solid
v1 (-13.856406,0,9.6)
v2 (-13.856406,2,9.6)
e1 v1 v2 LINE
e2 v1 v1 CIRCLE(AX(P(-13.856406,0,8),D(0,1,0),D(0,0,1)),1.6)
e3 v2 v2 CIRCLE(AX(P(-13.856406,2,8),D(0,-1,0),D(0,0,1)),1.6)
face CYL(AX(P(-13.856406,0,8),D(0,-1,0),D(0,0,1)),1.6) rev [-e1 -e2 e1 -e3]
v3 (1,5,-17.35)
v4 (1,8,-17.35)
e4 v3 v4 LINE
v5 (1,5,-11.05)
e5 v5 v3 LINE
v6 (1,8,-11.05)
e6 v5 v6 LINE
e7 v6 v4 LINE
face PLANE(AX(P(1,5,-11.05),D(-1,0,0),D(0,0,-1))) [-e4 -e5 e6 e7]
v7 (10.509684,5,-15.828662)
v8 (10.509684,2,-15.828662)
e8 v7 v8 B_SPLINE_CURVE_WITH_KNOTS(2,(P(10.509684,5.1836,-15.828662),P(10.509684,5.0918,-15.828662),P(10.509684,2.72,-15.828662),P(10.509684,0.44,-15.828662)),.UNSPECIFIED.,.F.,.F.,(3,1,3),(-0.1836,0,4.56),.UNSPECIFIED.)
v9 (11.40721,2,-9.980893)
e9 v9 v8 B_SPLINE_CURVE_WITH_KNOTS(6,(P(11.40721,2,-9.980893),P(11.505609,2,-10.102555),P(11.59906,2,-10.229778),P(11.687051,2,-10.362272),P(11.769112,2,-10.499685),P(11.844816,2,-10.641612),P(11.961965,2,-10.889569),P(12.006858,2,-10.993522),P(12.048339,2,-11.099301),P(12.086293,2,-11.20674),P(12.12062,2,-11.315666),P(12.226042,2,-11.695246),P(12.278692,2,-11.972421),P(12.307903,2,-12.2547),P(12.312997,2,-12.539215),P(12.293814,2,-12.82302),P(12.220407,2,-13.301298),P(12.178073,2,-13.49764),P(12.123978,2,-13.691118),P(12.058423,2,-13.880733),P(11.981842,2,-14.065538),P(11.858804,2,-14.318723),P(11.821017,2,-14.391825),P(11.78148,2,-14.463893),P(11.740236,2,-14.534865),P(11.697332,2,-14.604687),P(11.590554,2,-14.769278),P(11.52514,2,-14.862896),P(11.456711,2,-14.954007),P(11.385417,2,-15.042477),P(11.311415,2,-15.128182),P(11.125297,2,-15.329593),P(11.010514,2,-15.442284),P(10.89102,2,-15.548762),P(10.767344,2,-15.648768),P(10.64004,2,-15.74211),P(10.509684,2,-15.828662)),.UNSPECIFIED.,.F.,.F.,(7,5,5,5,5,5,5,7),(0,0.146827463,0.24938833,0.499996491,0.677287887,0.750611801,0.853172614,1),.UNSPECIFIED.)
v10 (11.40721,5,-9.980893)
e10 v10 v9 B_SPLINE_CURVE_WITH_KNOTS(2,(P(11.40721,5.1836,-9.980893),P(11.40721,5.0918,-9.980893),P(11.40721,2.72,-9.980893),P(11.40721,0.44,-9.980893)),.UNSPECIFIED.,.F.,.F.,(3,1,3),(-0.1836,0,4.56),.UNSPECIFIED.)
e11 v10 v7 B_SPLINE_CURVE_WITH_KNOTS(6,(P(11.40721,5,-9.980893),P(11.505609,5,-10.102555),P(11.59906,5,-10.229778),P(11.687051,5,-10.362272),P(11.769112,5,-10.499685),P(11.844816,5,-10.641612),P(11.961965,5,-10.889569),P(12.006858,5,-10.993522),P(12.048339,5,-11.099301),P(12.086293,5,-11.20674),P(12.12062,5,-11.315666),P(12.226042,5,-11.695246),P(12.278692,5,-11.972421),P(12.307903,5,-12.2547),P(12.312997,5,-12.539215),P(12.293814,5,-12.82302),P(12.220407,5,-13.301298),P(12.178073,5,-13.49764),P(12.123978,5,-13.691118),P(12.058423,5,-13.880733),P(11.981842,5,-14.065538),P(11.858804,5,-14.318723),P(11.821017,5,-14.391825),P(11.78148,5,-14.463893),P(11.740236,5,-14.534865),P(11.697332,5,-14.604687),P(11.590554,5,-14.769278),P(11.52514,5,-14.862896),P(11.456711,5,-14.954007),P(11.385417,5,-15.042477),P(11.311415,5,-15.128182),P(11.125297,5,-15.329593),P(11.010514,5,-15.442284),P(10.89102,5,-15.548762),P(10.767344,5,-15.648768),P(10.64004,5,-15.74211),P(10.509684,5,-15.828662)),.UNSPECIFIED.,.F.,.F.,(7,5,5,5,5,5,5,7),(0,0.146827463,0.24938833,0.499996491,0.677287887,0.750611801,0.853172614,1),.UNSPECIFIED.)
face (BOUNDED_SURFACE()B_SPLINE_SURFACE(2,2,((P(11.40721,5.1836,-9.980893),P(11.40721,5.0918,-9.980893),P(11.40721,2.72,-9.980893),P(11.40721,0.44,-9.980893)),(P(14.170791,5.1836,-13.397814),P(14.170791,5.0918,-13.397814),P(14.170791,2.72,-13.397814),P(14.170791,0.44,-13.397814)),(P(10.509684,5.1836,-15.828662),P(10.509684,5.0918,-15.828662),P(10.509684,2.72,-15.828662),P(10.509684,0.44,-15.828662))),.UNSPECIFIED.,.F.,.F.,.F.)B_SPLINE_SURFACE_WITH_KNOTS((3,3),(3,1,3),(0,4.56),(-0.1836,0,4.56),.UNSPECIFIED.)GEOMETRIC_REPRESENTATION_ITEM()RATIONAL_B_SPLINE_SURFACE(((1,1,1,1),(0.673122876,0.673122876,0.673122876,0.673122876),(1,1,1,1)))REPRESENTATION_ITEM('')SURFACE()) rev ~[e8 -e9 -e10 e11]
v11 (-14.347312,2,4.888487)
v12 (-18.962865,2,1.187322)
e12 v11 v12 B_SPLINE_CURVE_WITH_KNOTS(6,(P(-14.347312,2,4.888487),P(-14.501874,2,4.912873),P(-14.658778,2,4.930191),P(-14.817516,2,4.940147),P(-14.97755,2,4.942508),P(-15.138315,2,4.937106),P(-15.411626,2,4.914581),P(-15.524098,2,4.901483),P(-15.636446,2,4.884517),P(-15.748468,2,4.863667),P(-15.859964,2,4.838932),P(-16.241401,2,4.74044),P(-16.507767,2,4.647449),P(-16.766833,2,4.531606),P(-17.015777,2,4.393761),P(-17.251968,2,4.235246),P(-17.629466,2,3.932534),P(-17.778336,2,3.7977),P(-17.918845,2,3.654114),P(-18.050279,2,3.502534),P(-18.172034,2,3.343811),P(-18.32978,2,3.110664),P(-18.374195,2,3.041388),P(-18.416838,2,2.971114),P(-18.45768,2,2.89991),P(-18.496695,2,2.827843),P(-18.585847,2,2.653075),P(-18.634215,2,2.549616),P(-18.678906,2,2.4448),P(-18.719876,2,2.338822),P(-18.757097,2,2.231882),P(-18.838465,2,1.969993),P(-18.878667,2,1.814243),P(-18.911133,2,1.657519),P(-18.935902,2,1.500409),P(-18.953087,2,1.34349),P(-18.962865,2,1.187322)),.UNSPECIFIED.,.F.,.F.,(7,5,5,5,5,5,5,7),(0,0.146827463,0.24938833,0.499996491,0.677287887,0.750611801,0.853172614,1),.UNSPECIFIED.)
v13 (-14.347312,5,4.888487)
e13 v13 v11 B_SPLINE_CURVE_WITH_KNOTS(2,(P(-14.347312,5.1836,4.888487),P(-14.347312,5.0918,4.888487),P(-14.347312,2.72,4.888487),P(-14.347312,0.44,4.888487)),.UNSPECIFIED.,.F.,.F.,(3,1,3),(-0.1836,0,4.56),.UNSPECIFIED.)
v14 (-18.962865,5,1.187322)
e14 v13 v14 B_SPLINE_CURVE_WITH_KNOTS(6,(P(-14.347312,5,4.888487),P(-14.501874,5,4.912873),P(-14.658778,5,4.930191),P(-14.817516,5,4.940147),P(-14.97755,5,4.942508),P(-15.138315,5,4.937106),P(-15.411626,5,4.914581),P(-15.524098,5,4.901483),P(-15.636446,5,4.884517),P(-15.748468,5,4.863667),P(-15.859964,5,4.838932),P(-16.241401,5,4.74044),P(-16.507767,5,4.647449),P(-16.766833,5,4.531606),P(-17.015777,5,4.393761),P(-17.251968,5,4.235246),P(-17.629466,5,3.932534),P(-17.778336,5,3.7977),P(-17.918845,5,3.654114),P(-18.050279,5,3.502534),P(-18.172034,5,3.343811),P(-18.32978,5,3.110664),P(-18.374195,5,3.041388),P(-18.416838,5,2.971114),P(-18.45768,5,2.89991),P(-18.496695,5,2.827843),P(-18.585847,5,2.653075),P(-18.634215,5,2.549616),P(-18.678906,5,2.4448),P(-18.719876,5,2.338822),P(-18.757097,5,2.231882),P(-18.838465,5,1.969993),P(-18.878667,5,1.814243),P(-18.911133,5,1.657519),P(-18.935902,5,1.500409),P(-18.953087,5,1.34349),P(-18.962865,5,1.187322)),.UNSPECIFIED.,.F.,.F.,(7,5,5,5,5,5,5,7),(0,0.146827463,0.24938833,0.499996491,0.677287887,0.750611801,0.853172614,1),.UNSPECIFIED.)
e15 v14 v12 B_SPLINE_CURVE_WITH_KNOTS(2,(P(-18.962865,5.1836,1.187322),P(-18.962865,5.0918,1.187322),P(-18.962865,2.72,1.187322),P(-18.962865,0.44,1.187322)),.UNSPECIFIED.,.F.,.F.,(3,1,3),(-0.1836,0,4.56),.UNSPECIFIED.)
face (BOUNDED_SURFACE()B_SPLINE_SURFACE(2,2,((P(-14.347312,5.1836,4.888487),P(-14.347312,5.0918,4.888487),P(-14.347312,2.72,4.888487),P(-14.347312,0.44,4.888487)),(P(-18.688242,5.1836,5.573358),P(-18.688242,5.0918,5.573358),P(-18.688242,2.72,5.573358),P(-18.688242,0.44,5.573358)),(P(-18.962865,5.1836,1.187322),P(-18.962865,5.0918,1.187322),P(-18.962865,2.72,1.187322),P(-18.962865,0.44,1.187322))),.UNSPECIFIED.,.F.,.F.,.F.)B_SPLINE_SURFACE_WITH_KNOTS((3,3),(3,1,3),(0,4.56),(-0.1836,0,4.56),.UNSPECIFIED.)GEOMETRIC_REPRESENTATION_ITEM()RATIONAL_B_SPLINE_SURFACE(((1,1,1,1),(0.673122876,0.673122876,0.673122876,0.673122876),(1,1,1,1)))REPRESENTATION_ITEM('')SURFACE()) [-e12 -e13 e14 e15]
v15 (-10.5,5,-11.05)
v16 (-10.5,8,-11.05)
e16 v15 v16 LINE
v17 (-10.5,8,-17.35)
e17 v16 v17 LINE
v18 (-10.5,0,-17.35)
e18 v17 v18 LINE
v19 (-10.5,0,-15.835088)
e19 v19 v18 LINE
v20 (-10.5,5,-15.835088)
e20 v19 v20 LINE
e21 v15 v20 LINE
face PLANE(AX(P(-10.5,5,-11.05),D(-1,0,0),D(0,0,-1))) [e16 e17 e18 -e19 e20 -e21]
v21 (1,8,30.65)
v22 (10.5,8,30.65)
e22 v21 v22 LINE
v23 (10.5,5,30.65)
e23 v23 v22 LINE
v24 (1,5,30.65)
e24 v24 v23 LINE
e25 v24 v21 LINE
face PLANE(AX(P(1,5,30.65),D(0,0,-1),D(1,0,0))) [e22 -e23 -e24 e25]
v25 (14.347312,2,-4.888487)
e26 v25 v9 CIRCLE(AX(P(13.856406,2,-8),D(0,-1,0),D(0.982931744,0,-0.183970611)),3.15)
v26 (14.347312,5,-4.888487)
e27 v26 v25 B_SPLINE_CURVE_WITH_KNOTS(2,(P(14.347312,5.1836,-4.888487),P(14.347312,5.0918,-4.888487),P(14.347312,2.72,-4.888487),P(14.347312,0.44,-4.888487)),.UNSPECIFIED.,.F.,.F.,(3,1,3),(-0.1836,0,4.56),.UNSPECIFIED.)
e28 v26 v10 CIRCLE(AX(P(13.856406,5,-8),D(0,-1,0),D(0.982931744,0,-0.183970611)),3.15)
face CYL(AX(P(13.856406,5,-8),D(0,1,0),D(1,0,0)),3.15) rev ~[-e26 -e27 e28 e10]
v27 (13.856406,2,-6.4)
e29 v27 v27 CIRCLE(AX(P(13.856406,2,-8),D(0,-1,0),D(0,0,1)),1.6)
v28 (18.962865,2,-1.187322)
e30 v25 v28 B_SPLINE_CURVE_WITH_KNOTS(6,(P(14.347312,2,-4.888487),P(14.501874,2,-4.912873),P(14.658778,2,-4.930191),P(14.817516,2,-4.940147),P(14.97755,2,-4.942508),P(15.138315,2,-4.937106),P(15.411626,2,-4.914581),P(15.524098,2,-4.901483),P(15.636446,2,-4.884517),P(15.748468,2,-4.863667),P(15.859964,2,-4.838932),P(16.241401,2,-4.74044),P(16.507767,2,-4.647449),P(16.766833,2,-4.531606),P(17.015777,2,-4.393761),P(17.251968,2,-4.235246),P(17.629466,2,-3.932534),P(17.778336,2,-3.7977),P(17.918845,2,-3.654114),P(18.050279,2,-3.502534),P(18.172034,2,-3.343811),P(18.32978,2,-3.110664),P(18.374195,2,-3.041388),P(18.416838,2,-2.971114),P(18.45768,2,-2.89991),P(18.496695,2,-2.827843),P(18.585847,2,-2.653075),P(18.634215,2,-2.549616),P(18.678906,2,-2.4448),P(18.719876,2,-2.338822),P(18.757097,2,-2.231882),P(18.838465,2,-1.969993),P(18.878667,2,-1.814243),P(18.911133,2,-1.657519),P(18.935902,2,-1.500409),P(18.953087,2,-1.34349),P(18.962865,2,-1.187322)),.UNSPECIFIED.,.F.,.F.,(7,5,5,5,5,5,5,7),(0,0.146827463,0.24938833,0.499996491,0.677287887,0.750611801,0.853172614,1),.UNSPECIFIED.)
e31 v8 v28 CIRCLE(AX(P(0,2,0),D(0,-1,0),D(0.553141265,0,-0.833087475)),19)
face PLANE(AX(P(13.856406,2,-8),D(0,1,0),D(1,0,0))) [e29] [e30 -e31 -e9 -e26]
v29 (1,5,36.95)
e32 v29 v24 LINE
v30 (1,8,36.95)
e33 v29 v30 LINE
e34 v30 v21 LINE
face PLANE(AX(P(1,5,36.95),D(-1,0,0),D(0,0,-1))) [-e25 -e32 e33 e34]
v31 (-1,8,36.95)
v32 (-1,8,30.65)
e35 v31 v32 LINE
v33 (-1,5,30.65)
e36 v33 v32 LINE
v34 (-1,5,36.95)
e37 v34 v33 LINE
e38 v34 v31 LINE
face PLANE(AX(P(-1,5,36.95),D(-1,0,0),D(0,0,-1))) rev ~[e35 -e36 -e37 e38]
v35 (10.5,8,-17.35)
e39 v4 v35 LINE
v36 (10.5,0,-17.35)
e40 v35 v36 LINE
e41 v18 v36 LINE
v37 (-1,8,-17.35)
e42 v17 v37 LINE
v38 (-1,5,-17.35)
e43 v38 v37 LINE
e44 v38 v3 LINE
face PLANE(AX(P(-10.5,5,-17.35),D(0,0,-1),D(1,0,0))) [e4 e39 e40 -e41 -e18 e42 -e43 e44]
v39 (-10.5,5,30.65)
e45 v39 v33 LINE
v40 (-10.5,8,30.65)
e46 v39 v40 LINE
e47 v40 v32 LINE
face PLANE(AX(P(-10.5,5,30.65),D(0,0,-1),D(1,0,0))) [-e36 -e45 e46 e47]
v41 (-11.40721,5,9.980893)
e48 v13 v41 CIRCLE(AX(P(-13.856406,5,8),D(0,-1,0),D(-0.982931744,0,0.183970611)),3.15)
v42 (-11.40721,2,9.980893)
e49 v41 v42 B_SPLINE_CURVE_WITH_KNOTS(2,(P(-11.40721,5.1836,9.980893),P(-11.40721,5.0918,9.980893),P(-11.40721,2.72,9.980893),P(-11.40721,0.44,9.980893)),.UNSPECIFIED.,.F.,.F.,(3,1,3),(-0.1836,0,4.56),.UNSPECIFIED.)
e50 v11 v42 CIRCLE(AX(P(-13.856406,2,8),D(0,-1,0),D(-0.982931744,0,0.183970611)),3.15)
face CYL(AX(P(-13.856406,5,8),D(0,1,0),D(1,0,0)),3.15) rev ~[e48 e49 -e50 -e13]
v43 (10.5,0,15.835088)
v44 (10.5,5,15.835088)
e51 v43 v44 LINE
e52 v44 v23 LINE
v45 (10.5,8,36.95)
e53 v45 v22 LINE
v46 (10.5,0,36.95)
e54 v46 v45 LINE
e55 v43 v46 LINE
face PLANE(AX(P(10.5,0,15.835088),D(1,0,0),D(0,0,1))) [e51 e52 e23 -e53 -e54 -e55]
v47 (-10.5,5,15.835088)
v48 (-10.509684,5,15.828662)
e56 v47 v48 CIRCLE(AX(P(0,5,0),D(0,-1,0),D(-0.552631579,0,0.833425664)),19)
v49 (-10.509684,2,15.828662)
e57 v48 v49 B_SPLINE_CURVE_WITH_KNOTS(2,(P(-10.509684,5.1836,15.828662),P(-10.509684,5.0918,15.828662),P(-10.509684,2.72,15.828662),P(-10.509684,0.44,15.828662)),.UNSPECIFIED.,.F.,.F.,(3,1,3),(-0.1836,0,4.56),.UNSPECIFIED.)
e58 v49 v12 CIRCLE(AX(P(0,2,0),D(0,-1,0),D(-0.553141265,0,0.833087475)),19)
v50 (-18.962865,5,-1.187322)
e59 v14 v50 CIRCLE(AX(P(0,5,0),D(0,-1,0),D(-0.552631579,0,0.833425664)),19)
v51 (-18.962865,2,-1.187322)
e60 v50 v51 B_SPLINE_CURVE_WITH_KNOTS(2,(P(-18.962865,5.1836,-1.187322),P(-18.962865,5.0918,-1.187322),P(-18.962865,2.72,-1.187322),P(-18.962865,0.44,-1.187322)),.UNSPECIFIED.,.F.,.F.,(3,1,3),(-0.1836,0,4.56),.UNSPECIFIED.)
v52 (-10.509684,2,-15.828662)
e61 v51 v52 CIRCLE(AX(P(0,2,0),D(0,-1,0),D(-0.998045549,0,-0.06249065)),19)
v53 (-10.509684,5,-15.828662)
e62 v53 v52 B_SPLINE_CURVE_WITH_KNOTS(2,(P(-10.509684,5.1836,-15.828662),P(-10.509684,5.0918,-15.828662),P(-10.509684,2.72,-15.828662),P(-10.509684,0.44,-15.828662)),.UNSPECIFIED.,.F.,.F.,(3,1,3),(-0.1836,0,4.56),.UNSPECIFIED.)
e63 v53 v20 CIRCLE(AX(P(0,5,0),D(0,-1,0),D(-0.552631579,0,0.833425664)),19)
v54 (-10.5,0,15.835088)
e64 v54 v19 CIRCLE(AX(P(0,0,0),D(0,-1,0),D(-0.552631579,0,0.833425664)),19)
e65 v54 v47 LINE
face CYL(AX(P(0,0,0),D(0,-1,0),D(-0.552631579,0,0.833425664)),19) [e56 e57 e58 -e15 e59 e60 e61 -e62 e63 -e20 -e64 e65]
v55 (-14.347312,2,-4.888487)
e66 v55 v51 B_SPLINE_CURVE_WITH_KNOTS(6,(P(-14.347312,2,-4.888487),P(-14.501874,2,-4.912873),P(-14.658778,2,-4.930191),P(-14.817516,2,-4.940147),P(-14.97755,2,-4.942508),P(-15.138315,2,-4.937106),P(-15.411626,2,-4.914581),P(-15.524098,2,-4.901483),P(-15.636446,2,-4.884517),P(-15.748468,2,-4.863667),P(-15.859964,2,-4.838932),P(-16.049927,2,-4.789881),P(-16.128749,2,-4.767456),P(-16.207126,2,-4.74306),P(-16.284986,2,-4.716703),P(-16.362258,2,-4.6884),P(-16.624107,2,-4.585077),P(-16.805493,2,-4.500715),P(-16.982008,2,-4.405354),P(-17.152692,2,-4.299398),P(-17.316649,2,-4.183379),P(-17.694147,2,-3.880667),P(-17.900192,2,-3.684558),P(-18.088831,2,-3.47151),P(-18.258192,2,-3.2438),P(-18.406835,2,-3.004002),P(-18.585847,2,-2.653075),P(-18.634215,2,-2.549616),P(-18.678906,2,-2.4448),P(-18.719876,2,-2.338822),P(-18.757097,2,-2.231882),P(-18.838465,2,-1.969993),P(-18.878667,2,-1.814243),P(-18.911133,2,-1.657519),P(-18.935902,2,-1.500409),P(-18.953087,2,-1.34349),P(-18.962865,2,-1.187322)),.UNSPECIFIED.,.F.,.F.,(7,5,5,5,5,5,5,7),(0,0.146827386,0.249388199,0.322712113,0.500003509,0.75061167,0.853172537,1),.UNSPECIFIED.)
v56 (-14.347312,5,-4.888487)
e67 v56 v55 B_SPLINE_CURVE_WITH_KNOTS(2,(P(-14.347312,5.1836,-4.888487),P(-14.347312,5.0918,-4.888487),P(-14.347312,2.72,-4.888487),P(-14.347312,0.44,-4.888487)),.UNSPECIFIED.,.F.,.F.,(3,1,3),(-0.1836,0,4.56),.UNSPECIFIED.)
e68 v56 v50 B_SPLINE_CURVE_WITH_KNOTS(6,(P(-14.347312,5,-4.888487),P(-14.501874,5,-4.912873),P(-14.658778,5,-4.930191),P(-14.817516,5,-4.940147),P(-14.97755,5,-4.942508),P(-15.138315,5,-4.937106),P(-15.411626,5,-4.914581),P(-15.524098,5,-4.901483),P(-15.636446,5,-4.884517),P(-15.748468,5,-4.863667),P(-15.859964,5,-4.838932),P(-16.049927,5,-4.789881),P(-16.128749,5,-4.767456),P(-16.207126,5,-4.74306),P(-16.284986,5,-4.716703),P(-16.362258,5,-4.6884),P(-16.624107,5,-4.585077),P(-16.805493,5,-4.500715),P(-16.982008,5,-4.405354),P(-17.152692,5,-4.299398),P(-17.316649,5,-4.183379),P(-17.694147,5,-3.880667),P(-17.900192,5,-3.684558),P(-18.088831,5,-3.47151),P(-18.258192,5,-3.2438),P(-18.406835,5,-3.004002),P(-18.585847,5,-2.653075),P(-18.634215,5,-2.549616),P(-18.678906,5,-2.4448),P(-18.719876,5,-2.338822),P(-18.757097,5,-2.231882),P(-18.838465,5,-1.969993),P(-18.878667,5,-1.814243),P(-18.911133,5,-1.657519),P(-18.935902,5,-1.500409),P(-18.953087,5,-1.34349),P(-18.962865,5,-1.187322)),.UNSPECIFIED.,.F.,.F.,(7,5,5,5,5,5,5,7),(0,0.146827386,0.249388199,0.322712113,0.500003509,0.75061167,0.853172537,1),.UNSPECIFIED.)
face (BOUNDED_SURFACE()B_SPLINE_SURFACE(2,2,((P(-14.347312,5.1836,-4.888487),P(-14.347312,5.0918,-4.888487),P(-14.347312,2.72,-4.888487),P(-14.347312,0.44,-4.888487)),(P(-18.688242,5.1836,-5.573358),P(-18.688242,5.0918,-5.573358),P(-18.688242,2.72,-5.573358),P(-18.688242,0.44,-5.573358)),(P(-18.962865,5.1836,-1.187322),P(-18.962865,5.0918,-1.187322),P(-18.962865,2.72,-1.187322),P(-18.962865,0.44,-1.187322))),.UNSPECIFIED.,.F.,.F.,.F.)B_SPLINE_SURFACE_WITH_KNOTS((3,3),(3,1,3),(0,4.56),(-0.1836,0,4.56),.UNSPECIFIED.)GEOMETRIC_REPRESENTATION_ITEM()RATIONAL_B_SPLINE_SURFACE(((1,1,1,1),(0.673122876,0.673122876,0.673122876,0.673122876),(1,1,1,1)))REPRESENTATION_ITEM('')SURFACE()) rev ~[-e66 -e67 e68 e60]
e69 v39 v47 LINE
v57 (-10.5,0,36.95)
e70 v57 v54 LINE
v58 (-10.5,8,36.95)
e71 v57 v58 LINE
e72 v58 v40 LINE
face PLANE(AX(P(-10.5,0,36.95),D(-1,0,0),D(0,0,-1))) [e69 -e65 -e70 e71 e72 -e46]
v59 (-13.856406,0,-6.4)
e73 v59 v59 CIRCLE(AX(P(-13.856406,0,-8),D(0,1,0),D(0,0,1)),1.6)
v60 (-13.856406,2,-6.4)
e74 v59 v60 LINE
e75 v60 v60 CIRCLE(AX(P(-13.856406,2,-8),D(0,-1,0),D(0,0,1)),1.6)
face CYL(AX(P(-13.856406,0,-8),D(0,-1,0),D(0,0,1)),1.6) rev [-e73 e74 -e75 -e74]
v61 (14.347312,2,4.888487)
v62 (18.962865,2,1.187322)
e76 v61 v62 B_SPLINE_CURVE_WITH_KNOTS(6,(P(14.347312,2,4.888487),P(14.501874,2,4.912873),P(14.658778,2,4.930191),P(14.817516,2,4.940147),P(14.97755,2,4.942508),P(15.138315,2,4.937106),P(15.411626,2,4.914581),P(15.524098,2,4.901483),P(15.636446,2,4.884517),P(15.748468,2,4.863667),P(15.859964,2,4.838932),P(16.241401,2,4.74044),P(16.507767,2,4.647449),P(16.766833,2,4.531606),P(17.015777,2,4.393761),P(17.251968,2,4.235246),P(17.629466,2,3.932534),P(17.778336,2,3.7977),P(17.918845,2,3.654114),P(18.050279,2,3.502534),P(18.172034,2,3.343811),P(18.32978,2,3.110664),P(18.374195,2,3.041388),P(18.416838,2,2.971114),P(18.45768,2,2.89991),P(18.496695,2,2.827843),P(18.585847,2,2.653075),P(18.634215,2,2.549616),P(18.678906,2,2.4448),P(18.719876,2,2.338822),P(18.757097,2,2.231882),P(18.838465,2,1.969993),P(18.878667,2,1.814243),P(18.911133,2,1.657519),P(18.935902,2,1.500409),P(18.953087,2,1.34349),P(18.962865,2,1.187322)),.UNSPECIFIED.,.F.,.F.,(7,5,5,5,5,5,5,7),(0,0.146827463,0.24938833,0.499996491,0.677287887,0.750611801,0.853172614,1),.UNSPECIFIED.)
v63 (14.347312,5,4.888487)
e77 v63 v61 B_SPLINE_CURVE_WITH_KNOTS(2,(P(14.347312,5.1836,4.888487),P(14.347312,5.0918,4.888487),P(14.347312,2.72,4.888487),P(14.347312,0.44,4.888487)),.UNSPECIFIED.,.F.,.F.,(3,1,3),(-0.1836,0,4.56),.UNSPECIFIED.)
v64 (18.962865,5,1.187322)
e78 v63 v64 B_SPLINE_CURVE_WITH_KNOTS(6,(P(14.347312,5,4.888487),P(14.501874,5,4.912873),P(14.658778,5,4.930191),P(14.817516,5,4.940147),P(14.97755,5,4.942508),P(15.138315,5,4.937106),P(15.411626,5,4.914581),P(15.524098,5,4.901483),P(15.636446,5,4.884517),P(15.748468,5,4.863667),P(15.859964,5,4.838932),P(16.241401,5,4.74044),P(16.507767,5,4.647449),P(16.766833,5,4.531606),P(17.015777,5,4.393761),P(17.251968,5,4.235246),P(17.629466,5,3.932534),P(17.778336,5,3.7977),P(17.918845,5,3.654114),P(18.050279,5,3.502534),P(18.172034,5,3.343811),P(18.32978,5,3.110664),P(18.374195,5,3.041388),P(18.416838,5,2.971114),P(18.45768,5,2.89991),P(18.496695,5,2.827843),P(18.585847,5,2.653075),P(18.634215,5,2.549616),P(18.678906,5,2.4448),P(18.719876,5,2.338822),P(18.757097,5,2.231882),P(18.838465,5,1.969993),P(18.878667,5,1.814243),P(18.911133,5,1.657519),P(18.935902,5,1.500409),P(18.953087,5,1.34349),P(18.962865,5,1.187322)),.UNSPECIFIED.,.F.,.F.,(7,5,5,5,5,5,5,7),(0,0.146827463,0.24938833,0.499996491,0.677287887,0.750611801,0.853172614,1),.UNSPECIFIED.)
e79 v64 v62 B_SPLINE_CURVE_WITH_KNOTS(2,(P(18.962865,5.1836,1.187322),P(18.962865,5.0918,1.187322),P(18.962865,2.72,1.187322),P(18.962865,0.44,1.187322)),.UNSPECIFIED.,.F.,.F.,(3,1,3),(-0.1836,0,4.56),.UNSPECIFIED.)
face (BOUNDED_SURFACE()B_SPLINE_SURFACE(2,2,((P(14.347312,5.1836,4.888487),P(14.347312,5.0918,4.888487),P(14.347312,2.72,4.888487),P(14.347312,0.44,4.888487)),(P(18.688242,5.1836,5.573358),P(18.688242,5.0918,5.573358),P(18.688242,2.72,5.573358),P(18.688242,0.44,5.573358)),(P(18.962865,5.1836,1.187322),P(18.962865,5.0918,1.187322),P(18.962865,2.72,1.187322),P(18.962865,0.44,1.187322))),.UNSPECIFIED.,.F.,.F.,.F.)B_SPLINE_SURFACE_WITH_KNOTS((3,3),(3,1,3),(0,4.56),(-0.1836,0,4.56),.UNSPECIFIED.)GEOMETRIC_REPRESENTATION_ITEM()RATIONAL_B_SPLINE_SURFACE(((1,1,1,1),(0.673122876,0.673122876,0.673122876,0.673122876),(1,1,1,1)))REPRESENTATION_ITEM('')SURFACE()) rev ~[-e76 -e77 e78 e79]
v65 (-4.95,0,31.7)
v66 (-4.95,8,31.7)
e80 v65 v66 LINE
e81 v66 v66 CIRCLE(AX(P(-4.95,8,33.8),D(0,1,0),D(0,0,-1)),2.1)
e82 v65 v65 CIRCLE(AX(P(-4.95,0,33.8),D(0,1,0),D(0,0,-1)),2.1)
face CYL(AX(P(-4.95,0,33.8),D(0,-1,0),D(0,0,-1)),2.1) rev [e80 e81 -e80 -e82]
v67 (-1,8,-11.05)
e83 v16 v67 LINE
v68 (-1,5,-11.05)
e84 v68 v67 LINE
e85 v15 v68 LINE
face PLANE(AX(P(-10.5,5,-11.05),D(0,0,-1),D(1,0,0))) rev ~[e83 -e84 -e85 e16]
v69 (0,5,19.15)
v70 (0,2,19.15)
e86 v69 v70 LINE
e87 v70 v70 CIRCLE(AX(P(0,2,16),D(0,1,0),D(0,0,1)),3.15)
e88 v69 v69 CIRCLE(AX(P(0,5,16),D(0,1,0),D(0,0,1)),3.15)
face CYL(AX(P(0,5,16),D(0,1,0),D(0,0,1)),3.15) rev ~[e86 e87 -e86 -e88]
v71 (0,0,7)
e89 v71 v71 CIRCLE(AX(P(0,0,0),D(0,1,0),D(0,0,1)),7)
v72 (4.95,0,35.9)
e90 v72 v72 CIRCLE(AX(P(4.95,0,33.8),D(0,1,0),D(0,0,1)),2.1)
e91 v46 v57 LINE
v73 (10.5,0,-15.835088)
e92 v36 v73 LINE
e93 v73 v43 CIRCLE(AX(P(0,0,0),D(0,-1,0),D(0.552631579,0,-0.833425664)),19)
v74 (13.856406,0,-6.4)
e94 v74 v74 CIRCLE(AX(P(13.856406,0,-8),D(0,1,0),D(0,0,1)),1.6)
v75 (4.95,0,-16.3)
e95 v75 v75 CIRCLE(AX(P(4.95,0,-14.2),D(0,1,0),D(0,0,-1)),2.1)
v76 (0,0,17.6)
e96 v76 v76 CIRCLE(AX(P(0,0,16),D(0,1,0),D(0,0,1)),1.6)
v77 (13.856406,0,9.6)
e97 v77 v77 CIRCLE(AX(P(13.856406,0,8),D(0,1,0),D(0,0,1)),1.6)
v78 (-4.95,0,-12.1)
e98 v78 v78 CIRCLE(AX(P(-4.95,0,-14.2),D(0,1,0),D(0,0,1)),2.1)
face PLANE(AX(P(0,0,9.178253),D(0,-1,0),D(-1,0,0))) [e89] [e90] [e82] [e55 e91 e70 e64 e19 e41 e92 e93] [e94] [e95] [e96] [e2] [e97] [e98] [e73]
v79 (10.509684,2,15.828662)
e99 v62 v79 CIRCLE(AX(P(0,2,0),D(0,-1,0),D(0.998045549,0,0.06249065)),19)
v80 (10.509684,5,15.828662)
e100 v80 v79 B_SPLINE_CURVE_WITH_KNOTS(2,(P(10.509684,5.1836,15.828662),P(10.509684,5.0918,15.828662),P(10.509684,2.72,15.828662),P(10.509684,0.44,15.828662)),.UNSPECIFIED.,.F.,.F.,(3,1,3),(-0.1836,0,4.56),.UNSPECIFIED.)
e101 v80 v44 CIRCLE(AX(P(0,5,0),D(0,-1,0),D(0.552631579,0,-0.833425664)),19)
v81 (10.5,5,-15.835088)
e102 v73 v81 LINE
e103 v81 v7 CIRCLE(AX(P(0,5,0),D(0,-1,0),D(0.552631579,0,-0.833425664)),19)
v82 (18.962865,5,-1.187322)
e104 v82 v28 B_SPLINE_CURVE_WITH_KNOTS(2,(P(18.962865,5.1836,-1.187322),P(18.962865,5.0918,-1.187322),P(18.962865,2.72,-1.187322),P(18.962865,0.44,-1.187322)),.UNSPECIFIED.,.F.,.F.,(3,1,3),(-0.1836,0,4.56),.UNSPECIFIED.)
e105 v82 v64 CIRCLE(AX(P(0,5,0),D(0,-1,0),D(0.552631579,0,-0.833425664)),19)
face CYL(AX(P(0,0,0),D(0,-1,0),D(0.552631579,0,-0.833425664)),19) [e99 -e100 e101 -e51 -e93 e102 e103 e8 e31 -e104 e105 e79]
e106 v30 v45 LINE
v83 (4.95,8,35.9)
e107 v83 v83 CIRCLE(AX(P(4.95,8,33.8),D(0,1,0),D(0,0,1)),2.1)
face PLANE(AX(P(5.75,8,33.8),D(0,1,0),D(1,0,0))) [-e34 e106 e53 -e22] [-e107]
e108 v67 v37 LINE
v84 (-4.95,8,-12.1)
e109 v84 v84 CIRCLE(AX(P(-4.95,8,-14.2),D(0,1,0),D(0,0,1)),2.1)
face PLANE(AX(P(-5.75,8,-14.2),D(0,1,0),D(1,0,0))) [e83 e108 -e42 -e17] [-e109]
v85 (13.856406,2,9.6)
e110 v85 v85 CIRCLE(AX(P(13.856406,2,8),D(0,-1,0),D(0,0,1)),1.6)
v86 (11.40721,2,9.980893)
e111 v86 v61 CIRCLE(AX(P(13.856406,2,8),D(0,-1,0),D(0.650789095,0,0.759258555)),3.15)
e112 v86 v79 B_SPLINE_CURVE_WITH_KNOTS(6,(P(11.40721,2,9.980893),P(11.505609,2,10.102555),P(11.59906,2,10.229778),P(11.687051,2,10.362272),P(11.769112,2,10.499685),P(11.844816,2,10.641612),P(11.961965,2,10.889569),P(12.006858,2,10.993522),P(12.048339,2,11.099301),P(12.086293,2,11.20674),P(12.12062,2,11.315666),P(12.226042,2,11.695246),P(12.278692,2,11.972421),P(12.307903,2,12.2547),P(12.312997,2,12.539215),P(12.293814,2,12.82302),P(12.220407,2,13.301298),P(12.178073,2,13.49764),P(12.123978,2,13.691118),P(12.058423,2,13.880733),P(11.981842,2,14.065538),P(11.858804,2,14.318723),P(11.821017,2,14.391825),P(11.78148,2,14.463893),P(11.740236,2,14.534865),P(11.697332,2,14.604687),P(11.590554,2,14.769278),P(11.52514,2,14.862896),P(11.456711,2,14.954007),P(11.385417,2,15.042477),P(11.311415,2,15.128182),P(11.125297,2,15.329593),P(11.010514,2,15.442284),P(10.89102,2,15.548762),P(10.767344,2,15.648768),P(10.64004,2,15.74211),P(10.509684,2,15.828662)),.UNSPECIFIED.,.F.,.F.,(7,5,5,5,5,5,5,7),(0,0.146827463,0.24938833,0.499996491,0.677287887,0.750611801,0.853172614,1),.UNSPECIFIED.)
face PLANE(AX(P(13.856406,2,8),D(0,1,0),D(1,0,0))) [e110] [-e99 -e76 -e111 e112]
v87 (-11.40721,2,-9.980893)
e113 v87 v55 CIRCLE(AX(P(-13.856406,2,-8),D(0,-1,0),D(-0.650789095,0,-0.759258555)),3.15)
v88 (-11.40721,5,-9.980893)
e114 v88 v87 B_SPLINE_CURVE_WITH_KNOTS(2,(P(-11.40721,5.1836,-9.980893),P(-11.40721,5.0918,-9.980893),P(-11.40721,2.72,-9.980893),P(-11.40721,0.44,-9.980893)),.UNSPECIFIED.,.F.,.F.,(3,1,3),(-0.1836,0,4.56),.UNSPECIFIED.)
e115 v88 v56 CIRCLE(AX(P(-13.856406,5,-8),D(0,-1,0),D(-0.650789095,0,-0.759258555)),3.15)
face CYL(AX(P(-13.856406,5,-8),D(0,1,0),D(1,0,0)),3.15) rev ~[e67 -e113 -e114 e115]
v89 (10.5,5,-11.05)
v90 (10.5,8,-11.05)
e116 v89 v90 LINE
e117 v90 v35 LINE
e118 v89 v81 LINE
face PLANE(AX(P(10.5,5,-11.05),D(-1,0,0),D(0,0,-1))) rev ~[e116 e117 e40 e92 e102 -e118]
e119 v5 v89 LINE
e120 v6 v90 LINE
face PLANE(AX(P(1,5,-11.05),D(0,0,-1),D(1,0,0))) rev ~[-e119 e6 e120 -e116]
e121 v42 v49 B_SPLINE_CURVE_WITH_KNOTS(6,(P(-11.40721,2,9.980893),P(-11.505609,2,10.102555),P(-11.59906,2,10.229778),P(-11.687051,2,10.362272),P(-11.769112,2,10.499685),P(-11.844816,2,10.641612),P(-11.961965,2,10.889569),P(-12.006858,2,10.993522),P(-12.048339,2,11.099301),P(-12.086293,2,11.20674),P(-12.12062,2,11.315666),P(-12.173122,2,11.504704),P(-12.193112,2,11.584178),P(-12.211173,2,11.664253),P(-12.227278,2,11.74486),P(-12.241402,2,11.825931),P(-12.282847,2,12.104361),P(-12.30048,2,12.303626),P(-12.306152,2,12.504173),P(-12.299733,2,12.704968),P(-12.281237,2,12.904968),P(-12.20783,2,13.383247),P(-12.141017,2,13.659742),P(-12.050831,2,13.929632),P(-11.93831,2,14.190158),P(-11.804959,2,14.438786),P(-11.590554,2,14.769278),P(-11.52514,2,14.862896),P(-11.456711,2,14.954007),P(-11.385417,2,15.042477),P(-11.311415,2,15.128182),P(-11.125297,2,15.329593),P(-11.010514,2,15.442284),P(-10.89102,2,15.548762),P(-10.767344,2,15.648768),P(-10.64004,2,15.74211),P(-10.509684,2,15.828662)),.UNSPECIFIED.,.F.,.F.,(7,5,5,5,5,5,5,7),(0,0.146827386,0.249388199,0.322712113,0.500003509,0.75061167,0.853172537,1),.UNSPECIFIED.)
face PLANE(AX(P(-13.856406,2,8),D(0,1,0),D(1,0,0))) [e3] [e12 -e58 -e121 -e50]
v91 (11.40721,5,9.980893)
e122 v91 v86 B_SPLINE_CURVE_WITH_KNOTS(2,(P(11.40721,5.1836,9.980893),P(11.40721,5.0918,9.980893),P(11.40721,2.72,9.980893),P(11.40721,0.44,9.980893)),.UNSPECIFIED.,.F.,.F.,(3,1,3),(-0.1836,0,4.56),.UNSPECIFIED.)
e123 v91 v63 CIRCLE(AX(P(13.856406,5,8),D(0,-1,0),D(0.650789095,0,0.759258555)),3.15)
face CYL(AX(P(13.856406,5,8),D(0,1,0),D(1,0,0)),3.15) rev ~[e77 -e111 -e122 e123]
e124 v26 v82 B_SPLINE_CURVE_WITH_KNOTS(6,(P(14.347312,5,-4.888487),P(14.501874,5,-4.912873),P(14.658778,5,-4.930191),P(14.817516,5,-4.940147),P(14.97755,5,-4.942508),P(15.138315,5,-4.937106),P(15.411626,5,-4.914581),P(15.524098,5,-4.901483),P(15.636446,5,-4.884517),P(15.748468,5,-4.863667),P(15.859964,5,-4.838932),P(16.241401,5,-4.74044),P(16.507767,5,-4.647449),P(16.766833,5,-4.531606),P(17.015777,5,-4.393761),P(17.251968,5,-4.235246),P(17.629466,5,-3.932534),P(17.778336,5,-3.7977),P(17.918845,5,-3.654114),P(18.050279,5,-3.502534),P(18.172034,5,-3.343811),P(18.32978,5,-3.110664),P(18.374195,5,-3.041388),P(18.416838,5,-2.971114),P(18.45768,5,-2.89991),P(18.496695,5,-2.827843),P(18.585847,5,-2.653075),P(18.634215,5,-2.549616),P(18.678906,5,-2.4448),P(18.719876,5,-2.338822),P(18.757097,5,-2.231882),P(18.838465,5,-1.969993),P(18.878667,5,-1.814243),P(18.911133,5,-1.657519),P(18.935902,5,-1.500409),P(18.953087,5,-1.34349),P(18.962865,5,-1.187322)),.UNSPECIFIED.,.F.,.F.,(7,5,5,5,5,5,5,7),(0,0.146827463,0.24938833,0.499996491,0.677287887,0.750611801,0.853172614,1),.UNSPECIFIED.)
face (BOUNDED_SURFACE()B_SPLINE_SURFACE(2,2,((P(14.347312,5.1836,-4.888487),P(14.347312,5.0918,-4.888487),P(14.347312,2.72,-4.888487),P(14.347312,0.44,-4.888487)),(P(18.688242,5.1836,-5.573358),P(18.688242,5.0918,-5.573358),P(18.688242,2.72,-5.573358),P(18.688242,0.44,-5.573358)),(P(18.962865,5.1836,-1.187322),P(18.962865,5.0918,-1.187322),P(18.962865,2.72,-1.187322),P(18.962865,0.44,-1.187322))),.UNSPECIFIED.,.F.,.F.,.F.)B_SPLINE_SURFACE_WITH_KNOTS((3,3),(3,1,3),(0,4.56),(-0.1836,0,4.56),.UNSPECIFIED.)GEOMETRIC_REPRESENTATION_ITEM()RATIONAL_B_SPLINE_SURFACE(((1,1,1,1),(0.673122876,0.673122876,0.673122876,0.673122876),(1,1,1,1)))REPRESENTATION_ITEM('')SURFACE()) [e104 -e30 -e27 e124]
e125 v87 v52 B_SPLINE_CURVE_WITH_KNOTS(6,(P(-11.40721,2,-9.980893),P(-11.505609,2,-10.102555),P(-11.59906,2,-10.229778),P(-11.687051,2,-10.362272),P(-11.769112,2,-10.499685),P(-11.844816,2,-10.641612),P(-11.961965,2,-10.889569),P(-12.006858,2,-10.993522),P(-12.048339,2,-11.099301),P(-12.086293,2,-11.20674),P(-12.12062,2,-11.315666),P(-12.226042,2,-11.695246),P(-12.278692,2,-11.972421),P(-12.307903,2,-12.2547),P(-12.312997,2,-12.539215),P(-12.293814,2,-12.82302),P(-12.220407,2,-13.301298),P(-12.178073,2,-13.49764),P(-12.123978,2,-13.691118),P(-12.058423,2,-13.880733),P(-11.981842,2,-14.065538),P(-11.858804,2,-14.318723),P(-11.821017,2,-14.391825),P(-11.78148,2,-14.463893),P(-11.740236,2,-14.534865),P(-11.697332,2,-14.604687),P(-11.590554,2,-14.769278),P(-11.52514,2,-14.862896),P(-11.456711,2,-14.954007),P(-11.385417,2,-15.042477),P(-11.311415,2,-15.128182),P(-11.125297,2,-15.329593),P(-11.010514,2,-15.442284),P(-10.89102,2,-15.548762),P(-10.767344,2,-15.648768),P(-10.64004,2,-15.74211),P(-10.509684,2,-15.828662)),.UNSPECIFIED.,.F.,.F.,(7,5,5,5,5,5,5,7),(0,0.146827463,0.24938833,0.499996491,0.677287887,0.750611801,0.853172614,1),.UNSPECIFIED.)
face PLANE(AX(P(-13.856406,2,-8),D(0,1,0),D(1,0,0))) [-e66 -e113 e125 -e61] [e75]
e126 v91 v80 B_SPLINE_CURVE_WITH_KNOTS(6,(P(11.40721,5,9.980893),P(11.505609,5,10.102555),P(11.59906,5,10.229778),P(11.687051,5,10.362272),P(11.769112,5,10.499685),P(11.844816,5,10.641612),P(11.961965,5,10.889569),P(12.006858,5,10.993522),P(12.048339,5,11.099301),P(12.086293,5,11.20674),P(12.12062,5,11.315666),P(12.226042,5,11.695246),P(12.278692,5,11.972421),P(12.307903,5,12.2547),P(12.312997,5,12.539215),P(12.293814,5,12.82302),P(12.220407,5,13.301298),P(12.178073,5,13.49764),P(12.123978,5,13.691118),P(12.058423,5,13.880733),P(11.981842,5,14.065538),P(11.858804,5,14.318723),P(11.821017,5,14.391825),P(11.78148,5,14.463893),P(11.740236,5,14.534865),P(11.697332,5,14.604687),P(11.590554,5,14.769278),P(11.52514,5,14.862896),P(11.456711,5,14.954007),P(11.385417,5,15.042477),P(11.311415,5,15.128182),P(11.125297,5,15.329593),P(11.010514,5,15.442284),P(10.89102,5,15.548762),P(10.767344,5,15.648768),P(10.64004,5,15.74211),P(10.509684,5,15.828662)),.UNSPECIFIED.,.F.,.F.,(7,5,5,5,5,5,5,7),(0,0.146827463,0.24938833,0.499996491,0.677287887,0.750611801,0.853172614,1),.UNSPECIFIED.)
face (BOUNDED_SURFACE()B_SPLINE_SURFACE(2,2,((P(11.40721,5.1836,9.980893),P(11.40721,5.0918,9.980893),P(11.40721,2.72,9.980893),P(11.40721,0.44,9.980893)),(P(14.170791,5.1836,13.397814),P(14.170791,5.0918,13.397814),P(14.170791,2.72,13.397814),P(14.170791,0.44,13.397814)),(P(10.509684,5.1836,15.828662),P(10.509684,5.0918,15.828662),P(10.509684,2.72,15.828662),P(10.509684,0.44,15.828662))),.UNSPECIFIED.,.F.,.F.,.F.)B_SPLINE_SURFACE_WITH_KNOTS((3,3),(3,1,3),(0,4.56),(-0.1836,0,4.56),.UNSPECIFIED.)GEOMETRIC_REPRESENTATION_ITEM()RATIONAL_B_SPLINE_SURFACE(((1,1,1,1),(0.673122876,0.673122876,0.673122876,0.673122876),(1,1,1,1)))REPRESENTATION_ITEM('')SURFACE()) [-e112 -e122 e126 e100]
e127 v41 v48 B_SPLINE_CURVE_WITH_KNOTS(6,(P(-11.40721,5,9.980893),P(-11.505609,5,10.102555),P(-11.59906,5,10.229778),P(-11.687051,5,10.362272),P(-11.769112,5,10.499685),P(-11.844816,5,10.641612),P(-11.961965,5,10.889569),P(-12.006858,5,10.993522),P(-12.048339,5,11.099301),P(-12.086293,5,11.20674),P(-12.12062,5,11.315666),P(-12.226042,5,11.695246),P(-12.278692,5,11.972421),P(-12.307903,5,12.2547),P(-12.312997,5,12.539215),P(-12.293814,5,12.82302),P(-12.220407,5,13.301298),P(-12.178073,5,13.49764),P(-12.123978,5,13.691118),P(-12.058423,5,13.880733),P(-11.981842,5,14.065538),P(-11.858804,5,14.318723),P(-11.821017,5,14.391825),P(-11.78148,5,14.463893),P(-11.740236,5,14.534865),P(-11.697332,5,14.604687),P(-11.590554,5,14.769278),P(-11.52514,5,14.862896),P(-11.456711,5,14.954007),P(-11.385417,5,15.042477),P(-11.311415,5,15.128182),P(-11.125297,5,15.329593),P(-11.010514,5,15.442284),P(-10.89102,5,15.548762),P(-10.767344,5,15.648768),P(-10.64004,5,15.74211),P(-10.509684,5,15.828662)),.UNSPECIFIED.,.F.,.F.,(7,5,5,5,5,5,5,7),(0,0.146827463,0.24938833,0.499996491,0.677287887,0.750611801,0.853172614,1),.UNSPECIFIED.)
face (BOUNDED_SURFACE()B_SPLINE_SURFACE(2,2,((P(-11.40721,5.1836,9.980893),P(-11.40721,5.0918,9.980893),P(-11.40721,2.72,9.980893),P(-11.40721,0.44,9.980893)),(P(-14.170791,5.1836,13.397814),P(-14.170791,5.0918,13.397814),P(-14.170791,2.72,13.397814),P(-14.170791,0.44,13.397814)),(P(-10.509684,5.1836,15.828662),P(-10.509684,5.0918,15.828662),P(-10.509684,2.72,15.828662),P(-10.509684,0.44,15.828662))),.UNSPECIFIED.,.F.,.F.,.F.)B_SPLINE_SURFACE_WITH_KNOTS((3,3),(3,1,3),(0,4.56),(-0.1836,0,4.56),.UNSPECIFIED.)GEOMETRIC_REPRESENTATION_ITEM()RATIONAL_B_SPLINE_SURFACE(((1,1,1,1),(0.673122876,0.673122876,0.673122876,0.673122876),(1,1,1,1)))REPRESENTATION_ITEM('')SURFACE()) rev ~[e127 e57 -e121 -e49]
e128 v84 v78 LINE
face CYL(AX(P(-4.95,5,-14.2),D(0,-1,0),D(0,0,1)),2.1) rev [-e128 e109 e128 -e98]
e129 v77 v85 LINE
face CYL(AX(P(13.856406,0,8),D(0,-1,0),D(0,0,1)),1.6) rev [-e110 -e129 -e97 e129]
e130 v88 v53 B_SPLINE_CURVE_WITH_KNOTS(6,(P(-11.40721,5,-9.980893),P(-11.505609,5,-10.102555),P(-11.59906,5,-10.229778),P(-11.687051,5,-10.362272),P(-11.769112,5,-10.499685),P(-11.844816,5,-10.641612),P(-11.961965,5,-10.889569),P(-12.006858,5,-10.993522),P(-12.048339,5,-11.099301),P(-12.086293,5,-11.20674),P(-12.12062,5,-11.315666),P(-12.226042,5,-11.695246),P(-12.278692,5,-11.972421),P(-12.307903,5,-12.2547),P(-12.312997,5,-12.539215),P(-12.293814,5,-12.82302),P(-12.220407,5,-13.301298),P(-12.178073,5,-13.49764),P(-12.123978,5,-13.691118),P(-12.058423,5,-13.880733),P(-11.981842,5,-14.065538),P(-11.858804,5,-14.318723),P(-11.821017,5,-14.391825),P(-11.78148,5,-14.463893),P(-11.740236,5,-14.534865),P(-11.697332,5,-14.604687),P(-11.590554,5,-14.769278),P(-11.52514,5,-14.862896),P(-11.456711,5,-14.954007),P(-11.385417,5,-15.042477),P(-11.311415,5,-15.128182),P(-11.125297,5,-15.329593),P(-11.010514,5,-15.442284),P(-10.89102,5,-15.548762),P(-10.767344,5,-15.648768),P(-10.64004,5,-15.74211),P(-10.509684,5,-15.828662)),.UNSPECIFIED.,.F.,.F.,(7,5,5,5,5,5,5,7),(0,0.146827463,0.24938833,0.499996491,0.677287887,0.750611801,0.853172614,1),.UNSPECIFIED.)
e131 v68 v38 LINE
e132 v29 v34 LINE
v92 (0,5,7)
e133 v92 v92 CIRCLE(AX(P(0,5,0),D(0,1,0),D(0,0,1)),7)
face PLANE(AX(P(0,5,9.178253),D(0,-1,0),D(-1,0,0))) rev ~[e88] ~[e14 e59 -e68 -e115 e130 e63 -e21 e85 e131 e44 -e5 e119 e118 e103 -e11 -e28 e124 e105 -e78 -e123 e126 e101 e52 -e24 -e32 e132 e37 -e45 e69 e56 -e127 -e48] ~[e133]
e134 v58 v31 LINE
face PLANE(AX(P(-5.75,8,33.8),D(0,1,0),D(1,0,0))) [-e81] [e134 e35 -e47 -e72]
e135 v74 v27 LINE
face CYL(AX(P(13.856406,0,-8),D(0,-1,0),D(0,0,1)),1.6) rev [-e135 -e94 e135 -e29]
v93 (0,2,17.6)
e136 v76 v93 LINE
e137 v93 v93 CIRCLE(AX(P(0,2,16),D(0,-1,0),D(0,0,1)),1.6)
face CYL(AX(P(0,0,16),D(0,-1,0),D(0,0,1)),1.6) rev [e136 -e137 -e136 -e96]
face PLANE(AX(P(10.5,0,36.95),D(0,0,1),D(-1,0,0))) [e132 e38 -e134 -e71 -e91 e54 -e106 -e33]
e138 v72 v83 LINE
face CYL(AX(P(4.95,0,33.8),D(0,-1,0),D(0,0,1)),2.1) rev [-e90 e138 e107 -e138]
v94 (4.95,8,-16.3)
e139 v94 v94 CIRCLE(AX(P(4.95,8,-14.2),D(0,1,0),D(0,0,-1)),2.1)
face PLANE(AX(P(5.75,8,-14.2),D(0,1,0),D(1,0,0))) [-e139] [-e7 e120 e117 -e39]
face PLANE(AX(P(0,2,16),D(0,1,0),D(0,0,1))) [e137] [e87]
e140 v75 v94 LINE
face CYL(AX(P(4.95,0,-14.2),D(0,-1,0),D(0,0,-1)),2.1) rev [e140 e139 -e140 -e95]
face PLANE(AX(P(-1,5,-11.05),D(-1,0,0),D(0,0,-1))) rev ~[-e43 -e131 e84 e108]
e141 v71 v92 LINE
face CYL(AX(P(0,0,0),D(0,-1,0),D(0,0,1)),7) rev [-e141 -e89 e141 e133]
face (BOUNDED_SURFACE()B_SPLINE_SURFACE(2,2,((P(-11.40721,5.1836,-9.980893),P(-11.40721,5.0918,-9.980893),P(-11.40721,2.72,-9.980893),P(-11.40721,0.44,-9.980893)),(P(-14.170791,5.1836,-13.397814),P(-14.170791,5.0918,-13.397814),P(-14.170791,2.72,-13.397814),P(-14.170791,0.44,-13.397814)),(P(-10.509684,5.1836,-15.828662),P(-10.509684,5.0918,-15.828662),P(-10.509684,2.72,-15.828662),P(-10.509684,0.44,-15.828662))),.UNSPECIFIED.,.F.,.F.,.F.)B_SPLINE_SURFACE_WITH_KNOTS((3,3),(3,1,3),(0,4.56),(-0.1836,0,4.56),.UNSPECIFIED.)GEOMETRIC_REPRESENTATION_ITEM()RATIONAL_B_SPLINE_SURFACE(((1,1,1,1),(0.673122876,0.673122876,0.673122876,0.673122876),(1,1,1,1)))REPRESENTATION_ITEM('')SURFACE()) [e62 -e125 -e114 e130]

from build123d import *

# Parameters (mm, degrees)
SKETCH1_R           = 1.6
SKETCH1_R_2         = 2.1
SKETCH1_R_3         = 7
BOSS_EXTRUDE1_DEPTH = 5
SKETCH2_R           = 3.15
CUT_EXTRUDE1_DEPTH  = 3
SKETCH3_W           = 9.5
SKETCH3_H           = 6.3
SKETCH3_R           = 2.1
BOSS_EXTRUDE2_DEPTH = 3
FILLET2_R           = 4


with BuildPart() as part:
    # Sketch1 → Boss-Extrude1 (new body)
    with BuildSketch(Plane(origin=(0, 0, 0), x_dir=(1, 0, 0), z_dir=(0, 1, 0))):
        with BuildLine():
            Line((10.5, -36.95), (-10.5, -36.95))
            Line((-10.5, -36.95), (-10.5, -15.835087622))
            ThreePointArc((-10.5, -15.835087622), (-19, 0), (-10.5, 15.835087622))
            Line((-10.5, 15.835087622), (-10.5, 17.35))
            Line((-10.5, 17.35), (10.5, 17.35))
            Line((10.5, 17.35), (10.5, 15.835087622))
            ThreePointArc((10.5, 15.835087622), (19, 0), (10.5, -15.835087622))
            Line((10.5, -15.835087622), (10.5, -36.95))
        make_face()
        with Locations(Location((13.856406461, 8, 0), (0, 0, 270))):
            Circle(SKETCH1_R, mode=Mode.SUBTRACT)
        with Locations(Location((13.856406461, -8, 0), (0, 0, 270))):
            Circle(SKETCH1_R, mode=Mode.SUBTRACT)
        with Locations(Location((0, -16, 0), (0, 0, 270))):
            Circle(SKETCH1_R, mode=Mode.SUBTRACT)
        with Locations(Location((-13.856406461, -8, 0), (0, 0, 270))):
            Circle(SKETCH1_R, mode=Mode.SUBTRACT)
        with Locations(Location((-13.856406461, 8, 0), (0, 0, 270))):
            Circle(SKETCH1_R, mode=Mode.SUBTRACT)
        with Locations(Location((-4.95, 14.2, 0), (0, 0, 270))):
            Circle(SKETCH1_R_2, mode=Mode.SUBTRACT)
        with Locations(Location((4.95, 14.2, 0), (0, 0, 90))):
            Circle(SKETCH1_R_2, mode=Mode.SUBTRACT)
        with Locations(Location((4.95, -33.8, 0), (0, 0, 270))):
            Circle(SKETCH1_R_2, mode=Mode.SUBTRACT)
        with Locations(Location((-4.95, -33.8, 0), (0, 0, 90))):
            Circle(SKETCH1_R_2, mode=Mode.SUBTRACT)
        with Locations(Location((0, 0, 0), (0, 0, 270))):
            Circle(SKETCH1_R_3, mode=Mode.SUBTRACT)
    extrude(amount=BOSS_EXTRUDE1_DEPTH)

    # Sketch2 → Cut-Extrude1 (cut)
    with BuildSketch(Plane(origin=(0, 5, 0), x_dir=(1, 0, 0), z_dir=(0, 1, 0))):
        with Locations((-13.856406461, 8)):
            Circle(SKETCH2_R)
        with Locations((13.856406461, 8)):
            Circle(SKETCH2_R)
        with Locations((13.856406461, -8)):
            Circle(SKETCH2_R)
        with Locations(Location((0, -16, 0), (0, 0, 270))):
            Circle(SKETCH2_R)
        with Locations((-13.856406461, -8)):
            Circle(SKETCH2_R)
    extrude(amount=-CUT_EXTRUDE1_DEPTH, mode=Mode.SUBTRACT)

    # Sketch3 → Boss-Extrude2 (add)
    # profile 1 of 4: a face of its own
    with BuildSketch(Plane(origin=(0, 5, 0), x_dir=(1, 0, 0), z_dir=(0, 1, 0))):
        with Locations((-5.75, 14.2)):
            Rectangle(SKETCH3_W, SKETCH3_H)
        with Locations(Location((-4.95, 14.2, 0), (0, 0, 270))):
            Circle(SKETCH3_R, mode=Mode.SUBTRACT)
    # profile 2 of 4: a face of its own
    with BuildSketch(Plane(origin=(0, 5, 0), x_dir=(1, 0, 0), z_dir=(0, 1, 0))):
        with Locations((5.75, 14.2)):
            Rectangle(SKETCH3_W, SKETCH3_H)
        with Locations(Location((4.95, 14.2, 0), (0, 0, 90))):
            Circle(SKETCH3_R, mode=Mode.SUBTRACT)
    # profile 3 of 4: a face of its own
    with BuildSketch(Plane(origin=(0, 5, 0), x_dir=(1, 0, 0), z_dir=(0, 1, 0))):
        with Locations((5.75, -33.8)):
            Rectangle(SKETCH3_W, SKETCH3_H)
        with Locations(Location((4.95, -33.8, 0), (0, 0, 270))):
            Circle(SKETCH3_R, mode=Mode.SUBTRACT)
    # profile 4 of 4: a face of its own
    with BuildSketch(Plane(origin=(0, 5, 0), x_dir=(1, 0, 0), z_dir=(0, 1, 0))):
        with Locations((-5.75, -33.8)):
            Rectangle(SKETCH3_W, SKETCH3_H)
        with Locations(Location((-4.95, -33.8, 0), (0, 0, 90))):
            Circle(SKETCH3_R, mode=Mode.SUBTRACT)
    extrude(amount=BOSS_EXTRUDE2_DEPTH)

    # Fillet2
    fillet2_edges = [part.edges().sort_by_distance(p)[0] for p in [
        (-16.952641455, 3.5, -8.579507427),
        (-15.906392111, 3.5, -10.391664448),
        (-15.906392111, 3.5, 10.391664448),
        (-16.952641455, 3.5, 8.579507427),
        (15.906392111, 3.5, -10.391664448),
        (16.952641455, 3.5, -8.579507427),
        (16.952641455, 3.5, 8.579507427),
        (15.906392111, 3.5, 10.391664448),
    ]]
    fillet(fillet2_edges, radius=FILLET2_R)


solid = part.part
